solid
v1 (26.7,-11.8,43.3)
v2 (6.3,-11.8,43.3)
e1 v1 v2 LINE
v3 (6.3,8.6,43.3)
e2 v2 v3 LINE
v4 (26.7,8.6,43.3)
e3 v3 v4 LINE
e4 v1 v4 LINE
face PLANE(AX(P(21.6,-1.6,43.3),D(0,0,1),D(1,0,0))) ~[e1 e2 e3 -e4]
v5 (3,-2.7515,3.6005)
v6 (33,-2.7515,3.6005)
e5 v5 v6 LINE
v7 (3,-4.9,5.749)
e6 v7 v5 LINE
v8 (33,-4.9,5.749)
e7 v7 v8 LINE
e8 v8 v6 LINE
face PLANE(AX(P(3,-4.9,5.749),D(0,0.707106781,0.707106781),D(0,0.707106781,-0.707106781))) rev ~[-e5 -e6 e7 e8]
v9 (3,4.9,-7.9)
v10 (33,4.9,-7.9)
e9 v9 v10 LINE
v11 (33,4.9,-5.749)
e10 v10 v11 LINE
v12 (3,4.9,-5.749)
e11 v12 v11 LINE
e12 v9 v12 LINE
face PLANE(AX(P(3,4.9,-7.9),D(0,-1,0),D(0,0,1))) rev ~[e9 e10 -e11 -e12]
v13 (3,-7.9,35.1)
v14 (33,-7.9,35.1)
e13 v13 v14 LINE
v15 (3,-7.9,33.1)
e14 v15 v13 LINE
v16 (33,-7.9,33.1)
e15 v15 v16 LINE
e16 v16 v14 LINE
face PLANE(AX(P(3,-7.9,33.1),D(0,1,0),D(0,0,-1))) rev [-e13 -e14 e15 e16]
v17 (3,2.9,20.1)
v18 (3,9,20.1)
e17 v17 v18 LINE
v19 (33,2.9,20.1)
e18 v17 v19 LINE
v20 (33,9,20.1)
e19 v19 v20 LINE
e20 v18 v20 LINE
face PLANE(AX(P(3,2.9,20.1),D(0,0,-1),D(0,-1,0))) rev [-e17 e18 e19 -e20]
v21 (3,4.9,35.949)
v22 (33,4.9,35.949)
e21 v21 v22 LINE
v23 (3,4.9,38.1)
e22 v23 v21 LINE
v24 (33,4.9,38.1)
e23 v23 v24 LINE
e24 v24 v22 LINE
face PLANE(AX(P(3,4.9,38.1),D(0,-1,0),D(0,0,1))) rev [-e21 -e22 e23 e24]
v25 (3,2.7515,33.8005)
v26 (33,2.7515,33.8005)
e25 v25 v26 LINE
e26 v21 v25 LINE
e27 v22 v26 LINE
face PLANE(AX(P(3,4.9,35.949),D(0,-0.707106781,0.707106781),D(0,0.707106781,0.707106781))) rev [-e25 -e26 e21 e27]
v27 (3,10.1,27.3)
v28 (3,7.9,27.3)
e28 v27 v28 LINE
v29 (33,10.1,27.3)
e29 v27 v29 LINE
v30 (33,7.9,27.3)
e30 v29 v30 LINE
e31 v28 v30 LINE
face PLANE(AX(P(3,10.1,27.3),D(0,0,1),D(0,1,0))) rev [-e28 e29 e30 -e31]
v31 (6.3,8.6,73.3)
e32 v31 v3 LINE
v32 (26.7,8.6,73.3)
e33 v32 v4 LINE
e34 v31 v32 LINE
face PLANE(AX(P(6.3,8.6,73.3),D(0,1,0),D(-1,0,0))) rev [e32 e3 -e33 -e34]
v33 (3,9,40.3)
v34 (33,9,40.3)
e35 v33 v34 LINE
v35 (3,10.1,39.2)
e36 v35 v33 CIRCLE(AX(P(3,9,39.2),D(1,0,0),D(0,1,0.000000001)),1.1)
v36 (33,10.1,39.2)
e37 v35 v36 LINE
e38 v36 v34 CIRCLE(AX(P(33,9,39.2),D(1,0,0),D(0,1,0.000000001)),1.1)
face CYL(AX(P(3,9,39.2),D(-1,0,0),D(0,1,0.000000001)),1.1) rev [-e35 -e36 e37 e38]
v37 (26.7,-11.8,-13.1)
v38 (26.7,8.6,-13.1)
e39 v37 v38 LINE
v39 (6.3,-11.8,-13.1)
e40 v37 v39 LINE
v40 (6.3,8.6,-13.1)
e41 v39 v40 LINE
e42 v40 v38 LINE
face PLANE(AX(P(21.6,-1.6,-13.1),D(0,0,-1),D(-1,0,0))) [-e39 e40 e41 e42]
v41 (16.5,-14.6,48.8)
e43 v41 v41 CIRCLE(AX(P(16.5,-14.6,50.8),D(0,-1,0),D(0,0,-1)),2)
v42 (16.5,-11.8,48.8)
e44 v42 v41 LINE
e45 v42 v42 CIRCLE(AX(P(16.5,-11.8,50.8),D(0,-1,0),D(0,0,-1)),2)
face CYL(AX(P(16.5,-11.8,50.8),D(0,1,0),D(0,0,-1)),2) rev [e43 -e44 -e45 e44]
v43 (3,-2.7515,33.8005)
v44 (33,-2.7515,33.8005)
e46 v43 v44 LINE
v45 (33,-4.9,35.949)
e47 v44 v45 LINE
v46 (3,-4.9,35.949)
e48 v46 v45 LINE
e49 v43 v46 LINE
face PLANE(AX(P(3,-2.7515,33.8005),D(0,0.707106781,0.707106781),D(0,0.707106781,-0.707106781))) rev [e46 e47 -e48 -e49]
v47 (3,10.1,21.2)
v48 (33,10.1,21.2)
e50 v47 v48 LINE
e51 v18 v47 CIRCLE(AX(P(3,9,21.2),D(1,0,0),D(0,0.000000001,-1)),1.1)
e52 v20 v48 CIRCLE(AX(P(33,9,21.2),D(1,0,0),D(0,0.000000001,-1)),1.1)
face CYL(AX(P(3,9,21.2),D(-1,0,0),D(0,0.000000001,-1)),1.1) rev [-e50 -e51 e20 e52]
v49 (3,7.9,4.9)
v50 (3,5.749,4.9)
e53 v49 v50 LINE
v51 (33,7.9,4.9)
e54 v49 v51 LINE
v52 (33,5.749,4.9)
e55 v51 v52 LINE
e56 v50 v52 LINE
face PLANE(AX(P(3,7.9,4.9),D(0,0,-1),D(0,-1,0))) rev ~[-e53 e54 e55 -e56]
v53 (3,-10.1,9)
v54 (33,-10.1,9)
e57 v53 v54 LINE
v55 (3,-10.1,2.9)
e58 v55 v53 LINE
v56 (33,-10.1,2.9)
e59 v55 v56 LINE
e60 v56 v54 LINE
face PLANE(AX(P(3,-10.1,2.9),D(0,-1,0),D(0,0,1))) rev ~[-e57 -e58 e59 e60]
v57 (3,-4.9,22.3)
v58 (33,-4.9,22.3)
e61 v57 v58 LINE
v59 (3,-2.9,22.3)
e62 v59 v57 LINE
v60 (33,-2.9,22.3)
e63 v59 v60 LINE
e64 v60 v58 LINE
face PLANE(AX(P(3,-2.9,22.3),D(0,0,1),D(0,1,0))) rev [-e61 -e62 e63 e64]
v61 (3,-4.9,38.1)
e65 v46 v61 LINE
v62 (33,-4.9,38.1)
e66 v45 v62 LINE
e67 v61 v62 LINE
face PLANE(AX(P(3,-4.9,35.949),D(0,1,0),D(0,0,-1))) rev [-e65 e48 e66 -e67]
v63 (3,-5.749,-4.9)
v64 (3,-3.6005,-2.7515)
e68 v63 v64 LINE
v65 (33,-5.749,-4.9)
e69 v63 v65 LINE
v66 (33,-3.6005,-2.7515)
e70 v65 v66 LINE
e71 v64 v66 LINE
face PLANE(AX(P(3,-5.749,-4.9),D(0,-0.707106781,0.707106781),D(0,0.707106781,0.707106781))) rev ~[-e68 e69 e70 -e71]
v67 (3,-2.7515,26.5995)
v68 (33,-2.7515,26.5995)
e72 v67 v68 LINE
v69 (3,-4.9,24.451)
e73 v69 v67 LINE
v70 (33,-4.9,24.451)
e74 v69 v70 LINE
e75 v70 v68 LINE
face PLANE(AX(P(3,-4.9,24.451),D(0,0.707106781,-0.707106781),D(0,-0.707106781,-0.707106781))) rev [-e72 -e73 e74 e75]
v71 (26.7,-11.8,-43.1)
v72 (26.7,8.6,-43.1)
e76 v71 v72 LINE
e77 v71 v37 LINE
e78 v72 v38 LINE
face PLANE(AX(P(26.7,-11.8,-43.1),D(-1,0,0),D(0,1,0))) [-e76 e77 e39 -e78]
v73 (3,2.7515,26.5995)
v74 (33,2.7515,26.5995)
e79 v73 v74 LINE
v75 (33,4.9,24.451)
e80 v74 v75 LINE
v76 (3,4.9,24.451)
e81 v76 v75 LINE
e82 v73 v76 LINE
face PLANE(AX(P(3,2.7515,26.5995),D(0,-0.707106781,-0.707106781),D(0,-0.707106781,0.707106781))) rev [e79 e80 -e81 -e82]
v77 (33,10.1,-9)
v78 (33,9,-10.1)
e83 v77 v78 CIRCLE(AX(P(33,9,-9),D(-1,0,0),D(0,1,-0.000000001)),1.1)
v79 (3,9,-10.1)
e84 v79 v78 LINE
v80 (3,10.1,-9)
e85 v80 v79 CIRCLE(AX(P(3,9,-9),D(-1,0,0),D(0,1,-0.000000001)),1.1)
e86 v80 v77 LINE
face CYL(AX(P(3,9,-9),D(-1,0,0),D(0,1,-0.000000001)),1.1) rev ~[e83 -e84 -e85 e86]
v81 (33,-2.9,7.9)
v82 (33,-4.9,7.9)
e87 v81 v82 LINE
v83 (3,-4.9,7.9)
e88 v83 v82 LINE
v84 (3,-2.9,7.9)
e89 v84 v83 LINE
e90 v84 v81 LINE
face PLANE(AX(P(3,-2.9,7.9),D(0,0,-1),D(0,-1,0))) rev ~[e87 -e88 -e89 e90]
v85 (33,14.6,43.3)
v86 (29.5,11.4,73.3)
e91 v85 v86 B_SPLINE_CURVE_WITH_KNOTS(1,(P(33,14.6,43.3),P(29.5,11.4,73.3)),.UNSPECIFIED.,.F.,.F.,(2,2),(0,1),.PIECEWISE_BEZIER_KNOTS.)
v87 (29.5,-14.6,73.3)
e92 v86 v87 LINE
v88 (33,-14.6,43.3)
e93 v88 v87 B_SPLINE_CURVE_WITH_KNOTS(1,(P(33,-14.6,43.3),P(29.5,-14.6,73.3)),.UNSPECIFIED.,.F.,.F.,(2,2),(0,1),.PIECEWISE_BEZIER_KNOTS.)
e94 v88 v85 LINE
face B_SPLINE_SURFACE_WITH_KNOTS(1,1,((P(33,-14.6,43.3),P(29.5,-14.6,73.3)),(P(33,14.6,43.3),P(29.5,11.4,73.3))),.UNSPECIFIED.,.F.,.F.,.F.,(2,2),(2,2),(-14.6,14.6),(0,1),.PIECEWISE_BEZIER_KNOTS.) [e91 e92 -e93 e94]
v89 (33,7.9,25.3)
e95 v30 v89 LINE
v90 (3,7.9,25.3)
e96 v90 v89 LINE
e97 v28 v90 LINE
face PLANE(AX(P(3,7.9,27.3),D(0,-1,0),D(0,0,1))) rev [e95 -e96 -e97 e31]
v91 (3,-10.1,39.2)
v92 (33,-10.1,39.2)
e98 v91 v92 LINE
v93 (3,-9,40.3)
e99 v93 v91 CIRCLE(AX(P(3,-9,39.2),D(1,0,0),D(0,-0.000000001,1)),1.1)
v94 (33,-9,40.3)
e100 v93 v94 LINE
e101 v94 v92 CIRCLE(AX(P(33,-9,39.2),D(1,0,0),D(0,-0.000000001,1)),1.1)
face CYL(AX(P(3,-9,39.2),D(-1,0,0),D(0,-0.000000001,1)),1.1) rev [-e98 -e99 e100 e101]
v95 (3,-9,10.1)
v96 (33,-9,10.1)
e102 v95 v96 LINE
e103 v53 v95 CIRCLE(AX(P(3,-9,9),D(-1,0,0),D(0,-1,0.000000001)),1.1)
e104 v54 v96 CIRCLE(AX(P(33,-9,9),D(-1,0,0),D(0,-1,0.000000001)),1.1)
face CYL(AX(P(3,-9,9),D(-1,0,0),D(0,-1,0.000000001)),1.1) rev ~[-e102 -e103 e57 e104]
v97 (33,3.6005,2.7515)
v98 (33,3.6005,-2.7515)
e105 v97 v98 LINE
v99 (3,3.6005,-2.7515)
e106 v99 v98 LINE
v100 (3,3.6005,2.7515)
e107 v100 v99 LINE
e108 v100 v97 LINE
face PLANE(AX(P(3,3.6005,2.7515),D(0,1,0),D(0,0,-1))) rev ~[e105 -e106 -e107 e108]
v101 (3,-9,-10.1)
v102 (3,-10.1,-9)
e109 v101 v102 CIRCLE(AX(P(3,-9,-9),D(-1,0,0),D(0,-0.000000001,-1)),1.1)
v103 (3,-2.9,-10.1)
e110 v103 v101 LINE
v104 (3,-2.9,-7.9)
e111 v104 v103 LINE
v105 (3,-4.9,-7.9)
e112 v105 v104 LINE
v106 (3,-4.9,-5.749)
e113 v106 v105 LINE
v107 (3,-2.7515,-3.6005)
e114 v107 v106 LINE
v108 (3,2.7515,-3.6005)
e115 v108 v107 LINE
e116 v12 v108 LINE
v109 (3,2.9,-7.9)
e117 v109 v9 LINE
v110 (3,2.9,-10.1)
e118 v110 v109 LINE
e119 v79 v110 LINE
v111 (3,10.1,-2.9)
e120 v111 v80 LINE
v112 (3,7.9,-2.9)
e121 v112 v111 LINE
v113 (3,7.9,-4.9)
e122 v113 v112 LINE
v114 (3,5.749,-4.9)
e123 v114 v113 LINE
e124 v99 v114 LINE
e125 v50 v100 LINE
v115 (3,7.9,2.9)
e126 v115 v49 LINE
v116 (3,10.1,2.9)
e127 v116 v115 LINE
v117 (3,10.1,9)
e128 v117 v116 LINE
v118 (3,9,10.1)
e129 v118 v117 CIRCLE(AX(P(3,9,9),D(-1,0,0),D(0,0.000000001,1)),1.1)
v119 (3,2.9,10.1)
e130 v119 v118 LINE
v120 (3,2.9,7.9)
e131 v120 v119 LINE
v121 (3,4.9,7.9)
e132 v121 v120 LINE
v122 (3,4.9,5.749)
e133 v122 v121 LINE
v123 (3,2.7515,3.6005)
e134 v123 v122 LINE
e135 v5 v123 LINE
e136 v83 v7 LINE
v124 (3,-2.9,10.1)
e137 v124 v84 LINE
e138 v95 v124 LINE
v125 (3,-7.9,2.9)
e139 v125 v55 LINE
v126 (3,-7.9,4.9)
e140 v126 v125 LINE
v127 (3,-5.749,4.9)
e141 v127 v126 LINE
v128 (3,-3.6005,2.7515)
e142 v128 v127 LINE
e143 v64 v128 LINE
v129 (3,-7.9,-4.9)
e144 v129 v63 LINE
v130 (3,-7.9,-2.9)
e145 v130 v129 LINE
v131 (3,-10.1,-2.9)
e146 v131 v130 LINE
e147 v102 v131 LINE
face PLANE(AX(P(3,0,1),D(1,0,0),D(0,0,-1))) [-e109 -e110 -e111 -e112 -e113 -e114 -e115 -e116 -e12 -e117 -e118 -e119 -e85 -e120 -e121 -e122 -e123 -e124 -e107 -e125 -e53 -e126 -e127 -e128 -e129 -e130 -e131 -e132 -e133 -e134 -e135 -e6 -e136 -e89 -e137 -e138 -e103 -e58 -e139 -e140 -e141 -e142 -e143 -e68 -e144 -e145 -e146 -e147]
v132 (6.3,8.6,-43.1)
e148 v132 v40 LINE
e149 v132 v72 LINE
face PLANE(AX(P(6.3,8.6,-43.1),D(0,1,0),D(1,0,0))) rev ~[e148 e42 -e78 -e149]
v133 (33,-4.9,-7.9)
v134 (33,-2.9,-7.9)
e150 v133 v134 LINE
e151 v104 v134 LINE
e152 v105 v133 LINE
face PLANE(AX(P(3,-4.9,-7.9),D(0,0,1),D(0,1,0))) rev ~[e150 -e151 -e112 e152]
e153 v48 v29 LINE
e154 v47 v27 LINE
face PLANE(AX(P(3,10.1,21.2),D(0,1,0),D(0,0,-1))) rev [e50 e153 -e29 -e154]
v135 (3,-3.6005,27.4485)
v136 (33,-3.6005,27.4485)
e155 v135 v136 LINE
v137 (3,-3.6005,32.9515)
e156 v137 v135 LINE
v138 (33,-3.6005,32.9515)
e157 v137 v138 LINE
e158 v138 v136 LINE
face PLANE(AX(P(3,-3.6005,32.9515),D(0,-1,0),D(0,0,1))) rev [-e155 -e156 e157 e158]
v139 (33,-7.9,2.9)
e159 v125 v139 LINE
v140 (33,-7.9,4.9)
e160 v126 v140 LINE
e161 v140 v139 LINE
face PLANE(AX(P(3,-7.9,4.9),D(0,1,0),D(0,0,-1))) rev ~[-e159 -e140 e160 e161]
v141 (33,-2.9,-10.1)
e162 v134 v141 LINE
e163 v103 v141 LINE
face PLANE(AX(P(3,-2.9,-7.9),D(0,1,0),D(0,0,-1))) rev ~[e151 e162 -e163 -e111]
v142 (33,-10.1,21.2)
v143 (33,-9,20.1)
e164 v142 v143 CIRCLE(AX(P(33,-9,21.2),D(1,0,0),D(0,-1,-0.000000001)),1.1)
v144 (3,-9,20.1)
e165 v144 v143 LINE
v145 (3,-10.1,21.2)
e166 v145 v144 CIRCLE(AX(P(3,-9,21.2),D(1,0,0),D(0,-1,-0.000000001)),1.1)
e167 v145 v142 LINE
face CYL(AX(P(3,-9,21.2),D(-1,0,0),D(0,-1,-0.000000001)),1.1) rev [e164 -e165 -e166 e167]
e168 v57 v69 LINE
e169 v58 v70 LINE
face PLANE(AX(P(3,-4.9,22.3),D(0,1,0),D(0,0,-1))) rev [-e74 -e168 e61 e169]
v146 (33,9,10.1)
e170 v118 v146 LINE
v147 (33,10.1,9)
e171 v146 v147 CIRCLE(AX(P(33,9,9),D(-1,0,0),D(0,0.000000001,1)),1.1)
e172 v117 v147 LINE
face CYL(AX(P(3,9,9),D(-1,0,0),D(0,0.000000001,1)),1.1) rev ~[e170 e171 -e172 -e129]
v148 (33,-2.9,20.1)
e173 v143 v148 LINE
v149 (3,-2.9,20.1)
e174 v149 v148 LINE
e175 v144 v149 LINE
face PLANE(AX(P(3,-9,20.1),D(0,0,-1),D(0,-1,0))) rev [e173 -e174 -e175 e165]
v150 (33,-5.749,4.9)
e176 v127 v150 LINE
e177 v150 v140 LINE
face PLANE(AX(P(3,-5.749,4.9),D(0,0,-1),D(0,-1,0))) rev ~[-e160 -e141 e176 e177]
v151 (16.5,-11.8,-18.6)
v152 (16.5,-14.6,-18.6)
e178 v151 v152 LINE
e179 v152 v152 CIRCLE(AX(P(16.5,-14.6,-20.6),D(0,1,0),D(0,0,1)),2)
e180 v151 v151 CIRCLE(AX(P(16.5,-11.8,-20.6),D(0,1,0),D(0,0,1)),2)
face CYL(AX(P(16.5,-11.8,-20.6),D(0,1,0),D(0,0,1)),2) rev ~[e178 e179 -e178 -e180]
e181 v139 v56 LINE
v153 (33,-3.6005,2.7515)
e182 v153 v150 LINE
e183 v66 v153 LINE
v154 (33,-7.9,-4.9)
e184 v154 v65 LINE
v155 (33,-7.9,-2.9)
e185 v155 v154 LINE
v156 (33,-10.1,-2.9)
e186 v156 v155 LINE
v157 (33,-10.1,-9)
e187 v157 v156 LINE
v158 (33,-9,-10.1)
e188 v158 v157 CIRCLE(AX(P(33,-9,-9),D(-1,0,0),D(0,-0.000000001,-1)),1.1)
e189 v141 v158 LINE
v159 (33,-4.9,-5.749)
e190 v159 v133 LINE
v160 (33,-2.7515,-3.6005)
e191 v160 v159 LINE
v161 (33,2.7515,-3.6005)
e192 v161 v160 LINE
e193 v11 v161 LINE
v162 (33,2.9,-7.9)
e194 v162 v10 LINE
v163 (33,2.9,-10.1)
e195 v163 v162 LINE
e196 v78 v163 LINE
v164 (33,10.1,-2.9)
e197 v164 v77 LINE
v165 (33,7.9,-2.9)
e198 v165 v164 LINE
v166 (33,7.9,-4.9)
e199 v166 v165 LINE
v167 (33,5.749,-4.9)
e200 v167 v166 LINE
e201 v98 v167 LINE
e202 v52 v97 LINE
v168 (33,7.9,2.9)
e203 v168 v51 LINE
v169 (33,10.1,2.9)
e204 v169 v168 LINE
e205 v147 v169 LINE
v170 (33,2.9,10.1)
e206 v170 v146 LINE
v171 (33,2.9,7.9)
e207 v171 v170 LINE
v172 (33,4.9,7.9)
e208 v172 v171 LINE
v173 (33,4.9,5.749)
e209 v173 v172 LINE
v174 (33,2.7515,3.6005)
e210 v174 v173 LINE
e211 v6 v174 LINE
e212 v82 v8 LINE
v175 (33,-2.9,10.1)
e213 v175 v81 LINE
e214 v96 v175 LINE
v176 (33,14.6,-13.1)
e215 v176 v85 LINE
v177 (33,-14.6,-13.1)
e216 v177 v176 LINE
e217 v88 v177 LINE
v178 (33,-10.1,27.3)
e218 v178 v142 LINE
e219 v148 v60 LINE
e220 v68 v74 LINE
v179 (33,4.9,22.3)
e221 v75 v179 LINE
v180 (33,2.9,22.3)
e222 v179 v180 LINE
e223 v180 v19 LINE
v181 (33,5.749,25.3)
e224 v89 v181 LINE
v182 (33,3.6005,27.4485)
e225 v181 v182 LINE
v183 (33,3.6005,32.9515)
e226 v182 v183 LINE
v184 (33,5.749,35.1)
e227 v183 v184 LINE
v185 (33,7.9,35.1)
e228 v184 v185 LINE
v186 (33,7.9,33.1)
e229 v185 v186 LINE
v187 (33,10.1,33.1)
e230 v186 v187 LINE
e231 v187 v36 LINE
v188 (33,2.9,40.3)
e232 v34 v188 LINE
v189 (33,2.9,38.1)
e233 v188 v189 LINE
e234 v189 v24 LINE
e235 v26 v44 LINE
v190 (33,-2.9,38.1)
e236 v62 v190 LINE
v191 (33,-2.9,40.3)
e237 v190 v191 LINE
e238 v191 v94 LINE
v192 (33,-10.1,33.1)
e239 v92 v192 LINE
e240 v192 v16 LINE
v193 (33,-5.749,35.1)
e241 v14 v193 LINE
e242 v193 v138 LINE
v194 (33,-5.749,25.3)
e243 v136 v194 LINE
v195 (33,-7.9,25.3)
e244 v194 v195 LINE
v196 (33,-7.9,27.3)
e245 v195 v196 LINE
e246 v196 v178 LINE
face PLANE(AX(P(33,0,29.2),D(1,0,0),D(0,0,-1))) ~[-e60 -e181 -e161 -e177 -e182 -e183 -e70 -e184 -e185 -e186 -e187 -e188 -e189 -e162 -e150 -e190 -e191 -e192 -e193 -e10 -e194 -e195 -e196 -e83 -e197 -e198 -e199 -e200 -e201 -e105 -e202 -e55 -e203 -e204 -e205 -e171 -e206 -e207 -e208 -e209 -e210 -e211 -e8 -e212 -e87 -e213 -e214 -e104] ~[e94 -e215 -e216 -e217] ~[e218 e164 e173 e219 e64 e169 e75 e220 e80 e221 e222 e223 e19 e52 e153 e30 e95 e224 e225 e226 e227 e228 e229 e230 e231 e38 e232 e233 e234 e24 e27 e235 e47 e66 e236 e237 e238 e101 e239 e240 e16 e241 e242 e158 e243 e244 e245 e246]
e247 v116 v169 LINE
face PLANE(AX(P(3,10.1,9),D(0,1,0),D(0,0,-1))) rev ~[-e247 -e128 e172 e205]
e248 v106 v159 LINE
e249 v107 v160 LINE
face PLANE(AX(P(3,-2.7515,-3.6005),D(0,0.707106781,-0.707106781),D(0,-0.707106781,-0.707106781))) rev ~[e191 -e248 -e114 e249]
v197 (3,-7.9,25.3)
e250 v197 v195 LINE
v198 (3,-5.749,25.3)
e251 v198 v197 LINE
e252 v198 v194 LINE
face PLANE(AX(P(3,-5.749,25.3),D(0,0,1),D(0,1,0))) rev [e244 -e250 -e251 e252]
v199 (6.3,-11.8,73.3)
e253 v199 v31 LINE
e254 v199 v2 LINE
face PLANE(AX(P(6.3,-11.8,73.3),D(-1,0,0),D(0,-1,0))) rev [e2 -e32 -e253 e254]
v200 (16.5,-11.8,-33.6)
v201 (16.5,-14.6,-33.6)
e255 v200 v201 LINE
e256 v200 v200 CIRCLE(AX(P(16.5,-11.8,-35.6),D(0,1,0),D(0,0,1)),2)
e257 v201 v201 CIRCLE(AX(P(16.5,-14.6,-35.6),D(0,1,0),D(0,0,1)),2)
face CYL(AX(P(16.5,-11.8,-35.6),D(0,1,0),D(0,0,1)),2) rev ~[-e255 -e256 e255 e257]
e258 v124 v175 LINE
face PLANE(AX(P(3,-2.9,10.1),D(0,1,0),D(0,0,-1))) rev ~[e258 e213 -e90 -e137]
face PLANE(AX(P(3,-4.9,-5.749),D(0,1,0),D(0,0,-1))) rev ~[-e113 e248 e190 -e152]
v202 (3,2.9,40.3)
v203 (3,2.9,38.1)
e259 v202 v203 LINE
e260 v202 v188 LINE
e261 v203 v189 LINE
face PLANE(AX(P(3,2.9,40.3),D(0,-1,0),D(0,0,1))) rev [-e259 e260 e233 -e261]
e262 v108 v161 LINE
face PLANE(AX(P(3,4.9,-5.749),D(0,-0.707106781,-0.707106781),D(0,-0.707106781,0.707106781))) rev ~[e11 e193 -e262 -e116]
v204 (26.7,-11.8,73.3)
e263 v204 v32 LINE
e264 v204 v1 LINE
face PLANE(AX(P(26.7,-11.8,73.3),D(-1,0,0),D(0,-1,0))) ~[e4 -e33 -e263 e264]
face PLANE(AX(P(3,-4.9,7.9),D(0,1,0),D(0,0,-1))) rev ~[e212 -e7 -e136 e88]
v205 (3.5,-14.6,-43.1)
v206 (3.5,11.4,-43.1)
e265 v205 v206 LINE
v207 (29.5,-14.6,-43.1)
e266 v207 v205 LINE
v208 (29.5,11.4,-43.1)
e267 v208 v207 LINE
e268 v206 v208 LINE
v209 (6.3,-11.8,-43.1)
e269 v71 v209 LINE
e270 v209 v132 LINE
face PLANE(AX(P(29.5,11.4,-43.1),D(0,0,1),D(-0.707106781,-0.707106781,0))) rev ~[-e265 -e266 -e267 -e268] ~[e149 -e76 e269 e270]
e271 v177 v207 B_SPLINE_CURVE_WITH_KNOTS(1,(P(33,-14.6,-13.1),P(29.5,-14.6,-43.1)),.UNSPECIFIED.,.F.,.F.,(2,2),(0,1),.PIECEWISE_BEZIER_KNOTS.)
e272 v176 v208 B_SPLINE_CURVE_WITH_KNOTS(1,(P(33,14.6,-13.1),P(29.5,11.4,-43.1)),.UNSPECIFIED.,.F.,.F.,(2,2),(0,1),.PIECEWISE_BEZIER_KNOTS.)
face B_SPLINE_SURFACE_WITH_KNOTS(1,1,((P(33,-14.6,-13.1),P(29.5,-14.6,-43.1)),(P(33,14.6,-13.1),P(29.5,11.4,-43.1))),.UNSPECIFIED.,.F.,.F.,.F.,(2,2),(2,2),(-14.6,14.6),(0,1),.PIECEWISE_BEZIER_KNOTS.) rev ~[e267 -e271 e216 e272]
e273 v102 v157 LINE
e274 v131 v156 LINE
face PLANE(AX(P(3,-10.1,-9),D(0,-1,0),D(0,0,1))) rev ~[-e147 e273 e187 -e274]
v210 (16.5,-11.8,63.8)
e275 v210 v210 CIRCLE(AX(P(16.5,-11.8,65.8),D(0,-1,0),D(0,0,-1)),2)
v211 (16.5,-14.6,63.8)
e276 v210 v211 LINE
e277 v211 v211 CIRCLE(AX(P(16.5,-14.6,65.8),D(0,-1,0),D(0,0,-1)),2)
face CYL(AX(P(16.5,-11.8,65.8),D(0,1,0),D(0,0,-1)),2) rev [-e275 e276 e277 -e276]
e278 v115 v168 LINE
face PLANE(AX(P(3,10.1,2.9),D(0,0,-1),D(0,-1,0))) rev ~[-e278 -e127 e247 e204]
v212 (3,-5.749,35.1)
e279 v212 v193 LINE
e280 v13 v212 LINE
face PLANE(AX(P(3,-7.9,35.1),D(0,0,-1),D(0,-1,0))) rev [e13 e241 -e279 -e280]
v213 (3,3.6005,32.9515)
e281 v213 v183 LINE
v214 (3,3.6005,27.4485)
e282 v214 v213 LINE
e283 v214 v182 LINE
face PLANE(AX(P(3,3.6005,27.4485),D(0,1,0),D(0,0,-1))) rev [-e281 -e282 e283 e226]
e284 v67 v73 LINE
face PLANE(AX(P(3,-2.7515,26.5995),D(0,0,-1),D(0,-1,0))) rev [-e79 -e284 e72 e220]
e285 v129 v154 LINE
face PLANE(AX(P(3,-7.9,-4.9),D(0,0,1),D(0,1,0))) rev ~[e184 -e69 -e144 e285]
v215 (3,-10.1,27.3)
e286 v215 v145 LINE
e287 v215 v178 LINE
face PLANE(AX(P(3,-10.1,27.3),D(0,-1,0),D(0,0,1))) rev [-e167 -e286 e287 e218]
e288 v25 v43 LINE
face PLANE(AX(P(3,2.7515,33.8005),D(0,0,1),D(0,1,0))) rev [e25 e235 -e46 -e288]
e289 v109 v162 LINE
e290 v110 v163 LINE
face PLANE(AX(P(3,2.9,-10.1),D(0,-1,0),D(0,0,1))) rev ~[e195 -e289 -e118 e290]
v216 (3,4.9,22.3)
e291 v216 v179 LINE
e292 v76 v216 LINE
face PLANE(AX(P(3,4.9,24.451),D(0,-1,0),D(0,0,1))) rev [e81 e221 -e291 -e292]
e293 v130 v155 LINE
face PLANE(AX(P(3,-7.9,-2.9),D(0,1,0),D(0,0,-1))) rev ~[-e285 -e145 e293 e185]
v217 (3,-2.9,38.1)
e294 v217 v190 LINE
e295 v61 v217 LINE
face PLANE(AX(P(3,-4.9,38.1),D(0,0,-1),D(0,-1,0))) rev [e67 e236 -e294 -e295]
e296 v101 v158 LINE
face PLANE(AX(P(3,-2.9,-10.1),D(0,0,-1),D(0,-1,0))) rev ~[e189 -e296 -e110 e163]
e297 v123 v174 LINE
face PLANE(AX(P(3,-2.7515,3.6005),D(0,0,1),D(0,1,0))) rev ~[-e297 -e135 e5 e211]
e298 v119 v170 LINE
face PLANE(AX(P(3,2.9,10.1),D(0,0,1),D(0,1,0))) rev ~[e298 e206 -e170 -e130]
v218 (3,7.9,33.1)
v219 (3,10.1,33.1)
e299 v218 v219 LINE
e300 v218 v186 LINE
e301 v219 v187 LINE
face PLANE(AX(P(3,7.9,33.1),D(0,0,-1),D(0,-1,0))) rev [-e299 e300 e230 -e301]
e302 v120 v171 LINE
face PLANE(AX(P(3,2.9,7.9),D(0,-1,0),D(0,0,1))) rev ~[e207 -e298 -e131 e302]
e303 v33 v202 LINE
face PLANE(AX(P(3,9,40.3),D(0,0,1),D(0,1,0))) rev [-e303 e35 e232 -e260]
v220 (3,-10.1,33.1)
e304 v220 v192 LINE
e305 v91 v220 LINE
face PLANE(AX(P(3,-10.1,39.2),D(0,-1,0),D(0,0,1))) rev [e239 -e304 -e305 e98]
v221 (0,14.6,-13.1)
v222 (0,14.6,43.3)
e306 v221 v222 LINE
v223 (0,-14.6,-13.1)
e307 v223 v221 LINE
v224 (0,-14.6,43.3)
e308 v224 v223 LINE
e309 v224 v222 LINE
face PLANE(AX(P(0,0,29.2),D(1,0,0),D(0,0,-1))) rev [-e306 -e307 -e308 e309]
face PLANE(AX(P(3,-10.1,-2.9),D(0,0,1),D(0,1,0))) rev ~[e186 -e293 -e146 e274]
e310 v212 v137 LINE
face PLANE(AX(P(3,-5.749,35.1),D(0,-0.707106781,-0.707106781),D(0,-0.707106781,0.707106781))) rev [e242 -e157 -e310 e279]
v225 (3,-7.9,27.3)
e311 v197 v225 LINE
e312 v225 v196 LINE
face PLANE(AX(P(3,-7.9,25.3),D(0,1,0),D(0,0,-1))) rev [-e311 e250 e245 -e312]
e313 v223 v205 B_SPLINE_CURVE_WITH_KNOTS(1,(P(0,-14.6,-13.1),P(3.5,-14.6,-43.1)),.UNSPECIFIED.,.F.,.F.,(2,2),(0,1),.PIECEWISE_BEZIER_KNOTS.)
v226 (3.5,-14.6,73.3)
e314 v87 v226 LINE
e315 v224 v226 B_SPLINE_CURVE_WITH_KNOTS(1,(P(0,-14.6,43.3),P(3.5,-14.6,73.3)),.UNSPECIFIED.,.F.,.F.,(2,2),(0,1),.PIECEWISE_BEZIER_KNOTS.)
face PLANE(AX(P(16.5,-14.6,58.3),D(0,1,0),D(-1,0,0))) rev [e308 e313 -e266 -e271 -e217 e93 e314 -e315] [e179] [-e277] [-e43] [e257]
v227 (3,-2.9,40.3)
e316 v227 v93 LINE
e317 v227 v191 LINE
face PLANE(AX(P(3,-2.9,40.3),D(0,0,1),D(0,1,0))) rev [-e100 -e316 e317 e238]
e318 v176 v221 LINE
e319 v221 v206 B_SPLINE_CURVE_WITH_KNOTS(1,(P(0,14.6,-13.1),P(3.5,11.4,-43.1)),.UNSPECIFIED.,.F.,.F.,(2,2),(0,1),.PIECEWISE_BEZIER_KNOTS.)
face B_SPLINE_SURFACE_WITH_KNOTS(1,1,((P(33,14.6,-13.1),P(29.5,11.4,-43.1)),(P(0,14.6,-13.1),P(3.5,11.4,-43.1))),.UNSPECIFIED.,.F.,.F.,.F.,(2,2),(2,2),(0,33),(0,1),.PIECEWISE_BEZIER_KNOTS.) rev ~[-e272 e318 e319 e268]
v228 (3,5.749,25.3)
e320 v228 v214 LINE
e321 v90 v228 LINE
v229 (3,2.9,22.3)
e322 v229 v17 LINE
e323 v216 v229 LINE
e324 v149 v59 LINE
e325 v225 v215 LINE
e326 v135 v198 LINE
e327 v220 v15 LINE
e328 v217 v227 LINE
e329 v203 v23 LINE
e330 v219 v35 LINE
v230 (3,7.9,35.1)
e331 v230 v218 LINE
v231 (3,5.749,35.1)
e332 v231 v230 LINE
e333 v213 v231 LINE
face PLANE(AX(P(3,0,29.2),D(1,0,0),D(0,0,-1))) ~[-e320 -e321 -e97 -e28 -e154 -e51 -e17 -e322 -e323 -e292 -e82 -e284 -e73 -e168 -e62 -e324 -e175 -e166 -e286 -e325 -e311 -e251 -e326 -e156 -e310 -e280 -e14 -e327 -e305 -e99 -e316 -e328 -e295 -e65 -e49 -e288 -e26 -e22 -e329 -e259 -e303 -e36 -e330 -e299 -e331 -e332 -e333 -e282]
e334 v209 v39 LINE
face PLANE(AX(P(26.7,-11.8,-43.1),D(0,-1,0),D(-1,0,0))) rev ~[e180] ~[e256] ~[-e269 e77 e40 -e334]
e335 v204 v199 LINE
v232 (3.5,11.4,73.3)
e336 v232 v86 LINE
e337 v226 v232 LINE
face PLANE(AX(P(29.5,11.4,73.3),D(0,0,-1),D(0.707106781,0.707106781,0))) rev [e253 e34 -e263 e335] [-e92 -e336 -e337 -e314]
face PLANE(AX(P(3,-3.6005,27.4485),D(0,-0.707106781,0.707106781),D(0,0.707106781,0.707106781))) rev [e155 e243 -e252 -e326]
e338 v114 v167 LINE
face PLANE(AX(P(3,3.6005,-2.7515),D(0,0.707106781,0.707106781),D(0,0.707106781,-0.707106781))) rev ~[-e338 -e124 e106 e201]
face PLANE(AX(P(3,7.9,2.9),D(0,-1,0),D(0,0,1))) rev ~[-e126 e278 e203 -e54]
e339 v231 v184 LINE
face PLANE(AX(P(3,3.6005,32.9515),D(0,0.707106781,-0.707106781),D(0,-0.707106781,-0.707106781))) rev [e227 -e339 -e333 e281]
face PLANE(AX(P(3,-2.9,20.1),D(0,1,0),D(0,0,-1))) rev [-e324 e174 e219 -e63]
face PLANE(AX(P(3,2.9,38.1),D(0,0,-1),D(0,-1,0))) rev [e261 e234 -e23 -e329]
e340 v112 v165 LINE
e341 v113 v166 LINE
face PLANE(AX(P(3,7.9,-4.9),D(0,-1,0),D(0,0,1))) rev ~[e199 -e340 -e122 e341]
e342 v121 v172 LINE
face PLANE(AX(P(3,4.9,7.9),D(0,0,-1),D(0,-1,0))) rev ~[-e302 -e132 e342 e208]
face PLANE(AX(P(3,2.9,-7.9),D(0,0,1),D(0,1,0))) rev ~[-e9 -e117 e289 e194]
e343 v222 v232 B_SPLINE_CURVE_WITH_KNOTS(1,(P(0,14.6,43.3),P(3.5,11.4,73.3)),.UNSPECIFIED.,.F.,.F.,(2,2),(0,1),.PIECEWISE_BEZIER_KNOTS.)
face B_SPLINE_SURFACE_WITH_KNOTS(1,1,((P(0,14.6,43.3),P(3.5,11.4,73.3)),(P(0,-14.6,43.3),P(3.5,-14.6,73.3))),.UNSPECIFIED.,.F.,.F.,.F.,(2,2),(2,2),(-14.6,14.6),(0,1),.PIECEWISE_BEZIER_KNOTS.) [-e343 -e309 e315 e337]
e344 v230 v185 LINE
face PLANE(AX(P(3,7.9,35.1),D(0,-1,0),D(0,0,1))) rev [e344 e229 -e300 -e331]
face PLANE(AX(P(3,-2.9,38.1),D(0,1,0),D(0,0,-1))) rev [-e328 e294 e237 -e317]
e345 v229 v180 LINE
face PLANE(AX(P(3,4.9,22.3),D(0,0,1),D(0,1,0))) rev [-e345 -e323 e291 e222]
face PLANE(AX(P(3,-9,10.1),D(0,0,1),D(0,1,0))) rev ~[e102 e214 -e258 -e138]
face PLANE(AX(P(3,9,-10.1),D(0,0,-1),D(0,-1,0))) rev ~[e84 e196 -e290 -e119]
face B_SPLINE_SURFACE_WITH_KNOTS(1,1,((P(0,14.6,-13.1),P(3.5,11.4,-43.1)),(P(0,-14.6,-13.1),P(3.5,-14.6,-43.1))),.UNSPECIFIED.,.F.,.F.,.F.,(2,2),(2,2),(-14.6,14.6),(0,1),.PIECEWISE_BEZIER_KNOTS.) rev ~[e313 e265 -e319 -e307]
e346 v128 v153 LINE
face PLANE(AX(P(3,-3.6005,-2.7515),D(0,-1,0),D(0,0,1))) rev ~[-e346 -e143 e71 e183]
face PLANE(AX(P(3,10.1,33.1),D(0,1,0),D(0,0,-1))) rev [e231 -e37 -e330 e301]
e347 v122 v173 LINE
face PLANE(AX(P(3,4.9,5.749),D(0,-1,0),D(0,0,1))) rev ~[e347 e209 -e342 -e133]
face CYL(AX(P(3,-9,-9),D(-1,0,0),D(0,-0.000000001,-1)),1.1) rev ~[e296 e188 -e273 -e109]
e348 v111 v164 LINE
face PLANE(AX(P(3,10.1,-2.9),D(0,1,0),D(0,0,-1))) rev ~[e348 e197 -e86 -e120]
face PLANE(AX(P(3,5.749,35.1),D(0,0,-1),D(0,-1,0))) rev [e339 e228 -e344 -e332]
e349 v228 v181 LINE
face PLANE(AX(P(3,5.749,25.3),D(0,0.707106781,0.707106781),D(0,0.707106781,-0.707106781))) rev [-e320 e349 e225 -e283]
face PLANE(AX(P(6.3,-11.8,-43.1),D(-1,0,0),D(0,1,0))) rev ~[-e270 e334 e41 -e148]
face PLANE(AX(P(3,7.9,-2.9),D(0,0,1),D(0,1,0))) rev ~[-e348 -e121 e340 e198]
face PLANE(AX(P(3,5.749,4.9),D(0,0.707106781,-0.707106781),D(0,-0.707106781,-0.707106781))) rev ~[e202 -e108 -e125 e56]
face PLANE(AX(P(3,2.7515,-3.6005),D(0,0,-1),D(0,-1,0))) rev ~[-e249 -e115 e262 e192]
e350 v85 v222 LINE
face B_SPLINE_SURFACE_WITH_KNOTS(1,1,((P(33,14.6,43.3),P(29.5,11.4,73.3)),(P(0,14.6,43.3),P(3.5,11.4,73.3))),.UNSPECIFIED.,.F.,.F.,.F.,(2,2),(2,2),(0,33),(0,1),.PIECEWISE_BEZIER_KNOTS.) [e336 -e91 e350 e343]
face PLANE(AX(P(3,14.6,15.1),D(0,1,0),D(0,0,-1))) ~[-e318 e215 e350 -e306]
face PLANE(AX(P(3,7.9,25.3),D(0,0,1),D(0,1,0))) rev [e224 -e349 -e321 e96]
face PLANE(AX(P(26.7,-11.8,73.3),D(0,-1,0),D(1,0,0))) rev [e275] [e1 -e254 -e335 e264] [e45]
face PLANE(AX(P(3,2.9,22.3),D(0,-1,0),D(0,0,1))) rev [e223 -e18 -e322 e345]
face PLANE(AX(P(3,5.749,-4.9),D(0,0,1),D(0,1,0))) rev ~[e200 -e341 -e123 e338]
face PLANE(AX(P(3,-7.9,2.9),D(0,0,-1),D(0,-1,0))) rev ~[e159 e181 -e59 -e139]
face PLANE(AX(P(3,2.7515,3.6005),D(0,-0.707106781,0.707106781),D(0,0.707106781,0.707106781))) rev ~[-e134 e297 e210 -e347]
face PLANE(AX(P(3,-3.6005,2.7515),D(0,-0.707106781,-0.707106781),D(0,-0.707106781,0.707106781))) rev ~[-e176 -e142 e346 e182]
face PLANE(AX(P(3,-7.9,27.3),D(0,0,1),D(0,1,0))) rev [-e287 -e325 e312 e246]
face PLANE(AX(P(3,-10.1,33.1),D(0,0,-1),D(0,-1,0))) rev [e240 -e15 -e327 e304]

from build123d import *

# Parameters (mm, degrees)
SKETCH3_W           = 28.2
SKETCH3_H           = 29.2
BOSS_EXTRUDE1_DEPTH = 3
BOSS_EXTRUDE2_START = 3
SKETCH3_3_W         = 28.2
SKETCH3_3_H         = 29.2
BOSS_EXTRUDE2_DEPTH = 30
SKETCH6_4_W         = 10.2
SKETCH6_4_H         = 20.4
CUT_EXTRUDE2_DEPTH  = 30
SKETCH8_R           = 2
CUT_EXTRUDE3_DEPTH  = 30


with BuildPart() as part:
    # Sketch3 → Boss-Extrude1 (new body)
    with BuildSketch(Plane(origin=(0, 0, 0), x_dir=(0, 0, -1), z_dir=(1, 0, 0))):
        with Locations((-1, 0)):
            Rectangle(SKETCH3_W, SKETCH3_H)
    extrude(amount=BOSS_EXTRUDE1_DEPTH)

    # Sketch3<3> → Boss-Extrude2 (add)
    with BuildSketch(Plane(origin=(0, 0, 0), x_dir=(0, 0, -1), z_dir=(1, 0, 0)).offset(BOSS_EXTRUDE2_START)):
        with Locations((-1, 0)):
            Rectangle(SKETCH3_3_W, SKETCH3_3_H)
        with BuildLine():
            Line((-10.1, 2.9), (-10.1, 9))
            ThreePointArc((-10.1, 9), (-9.777817459, 9.777817459), (-9, 10.1))
            Line((-9, 10.1), (-2.9, 10.1))
            Line((-2.9, 10.1), (-2.9, 7.9))
            Line((-2.9, 7.9), (-4.9, 7.9))
            Line((-4.9, 7.9), (-4.9, 5.749))
            Line((-4.9, 5.749), (-2.7515, 3.6005))
            Line((-2.7515, 3.6005), (2.7515, 3.6005))
            Line((2.7515, 3.6005), (4.9, 5.749))
            Line((4.9, 5.749), (4.9, 7.9))
            Line((4.9, 7.9), (2.9, 7.9))
            Line((2.9, 7.9), (2.9, 10.1))
            Line((2.9, 10.1), (9, 10.1))
            ThreePointArc((9, 10.1), (9.777817459, 9.777817459), (10.1, 9))
            Line((10.1, 9), (10.1, 2.9))
            Line((10.1, 2.9), (7.9, 2.9))
            Line((7.9, 2.9), (7.9, 4.9))
            Line((7.9, 4.9), (5.749, 4.9))
            Line((5.749, 4.9), (3.6005, 2.7515))
            Line((3.6005, 2.7515), (3.6005, -2.7515))
            Line((3.6005, -2.7515), (5.749, -4.9))
            Line((5.749, -4.9), (7.9, -4.9))
            Line((7.9, -4.9), (7.9, -2.9))
            Line((7.9, -2.9), (10.1, -2.9))
            Line((10.1, -2.9), (10.1, -9))
            ThreePointArc((10.1, -9), (9.777817459, -9.777817459), (9, -10.1))
            Line((9, -10.1), (2.9, -10.1))
            Line((2.9, -10.1), (2.9, -7.9))
            Line((2.9, -7.9), (4.9, -7.9))
            Line((4.9, -7.9), (4.9, -5.749))
            Line((4.9, -5.749), (2.7515, -3.6005))
            Line((2.7515, -3.6005), (-2.7515, -3.6005))
            Line((-2.7515, -3.6005), (-4.9, -5.749))
            Line((-4.9, -5.749), (-4.9, -7.9))
            Line((-4.9, -7.9), (-2.9, -7.9))
            Line((-2.9, -7.9), (-2.9, -10.1))
            Line((-2.9, -10.1), (-9, -10.1))
            ThreePointArc((-9, -10.1), (-9.777817459, -9.777817459), (-10.1, -9))
            Line((-10.1, -9), (-10.1, -2.9))
            Line((-10.1, -2.9), (-7.9, -2.9))
            Line((-7.9, -2.9), (-7.9, -4.9))
            Line((-7.9, -4.9), (-5.749, -4.9))
            Line((-5.749, -4.9), (-3.6005, -2.7515))
            Line((-3.6005, -2.7515), (-3.6005, 2.7515))
            Line((-3.6005, 2.7515), (-5.749, 4.9))
            Line((-5.749, 4.9), (-7.9, 4.9))
            Line((-7.9, 4.9), (-7.9, 2.9))
            Line((-7.9, 2.9), (-10.1, 2.9))
        make_face(mode=Mode.SUBTRACT)
    extrude(amount=BOSS_EXTRUDE2_DEPTH)

    # Sketch6 → section 1 of loft2
    with BuildSketch(Plane(origin=(0, 0, -43.1), x_dir=(-1, 0, 0), z_dir=(0, 0, -1)), mode=Mode.PRIVATE) as loft2_s1:
        with BuildLine():
            Line((-29.5, -14.6), (-3.5, -14.6))
            Line((-3.5, -14.6), (-3.5, 11.4))
            Line((-3.5, 11.4), (-29.5, 11.4))
            Line((-29.5, 11.4), (-29.5, -14.6))
        make_face()
    # loft from a face of the part (loft2)
    loft([part.faces().sort_by_distance((16.5, 0, -13.1))[0], loft2_s1.sketch])

    # Sketch6<4> → Cut-Extrude2 (cut)
    with BuildSketch(Plane(origin=(0, 0, -43.1), x_dir=(-1, 0, 0), z_dir=(0, 0, -1))):
        with Locations((-21.6, -1.6)):
            Rectangle(SKETCH6_4_W, SKETCH6_4_H)
        with Locations((-11.4, -1.6)):
            Rectangle(SKETCH6_4_W, SKETCH6_4_H)
    extrude(amount=-CUT_EXTRUDE2_DEPTH, mode=Mode.SUBTRACT)

    # Sketch8 → Cut-Extrude3 (cut)
    with BuildSketch(Plane(origin=(0, -11.8, 0), x_dir=(1, 0, 0), z_dir=(0, 1, 0))):
        with Locations(Location((16.5, 35.6, 0), (0, 0, 270))):
            Circle(SKETCH8_R)
        with Locations(Location((16.5, 20.6, 0), (0, 0, 270))):
            Circle(SKETCH8_R)
    extrude(amount=-CUT_EXTRUDE3_DEPTH, mode=Mode.SUBTRACT)

    # Mirror2: part across plane


with BuildPart() as part_1:
    add(part.part)
    add(part.part.mirror(Plane(origin=(3, 0, 15.1), x_dir=(1, 0, 0), z_dir=(0, 0, -1))))


solid = part_1.part
